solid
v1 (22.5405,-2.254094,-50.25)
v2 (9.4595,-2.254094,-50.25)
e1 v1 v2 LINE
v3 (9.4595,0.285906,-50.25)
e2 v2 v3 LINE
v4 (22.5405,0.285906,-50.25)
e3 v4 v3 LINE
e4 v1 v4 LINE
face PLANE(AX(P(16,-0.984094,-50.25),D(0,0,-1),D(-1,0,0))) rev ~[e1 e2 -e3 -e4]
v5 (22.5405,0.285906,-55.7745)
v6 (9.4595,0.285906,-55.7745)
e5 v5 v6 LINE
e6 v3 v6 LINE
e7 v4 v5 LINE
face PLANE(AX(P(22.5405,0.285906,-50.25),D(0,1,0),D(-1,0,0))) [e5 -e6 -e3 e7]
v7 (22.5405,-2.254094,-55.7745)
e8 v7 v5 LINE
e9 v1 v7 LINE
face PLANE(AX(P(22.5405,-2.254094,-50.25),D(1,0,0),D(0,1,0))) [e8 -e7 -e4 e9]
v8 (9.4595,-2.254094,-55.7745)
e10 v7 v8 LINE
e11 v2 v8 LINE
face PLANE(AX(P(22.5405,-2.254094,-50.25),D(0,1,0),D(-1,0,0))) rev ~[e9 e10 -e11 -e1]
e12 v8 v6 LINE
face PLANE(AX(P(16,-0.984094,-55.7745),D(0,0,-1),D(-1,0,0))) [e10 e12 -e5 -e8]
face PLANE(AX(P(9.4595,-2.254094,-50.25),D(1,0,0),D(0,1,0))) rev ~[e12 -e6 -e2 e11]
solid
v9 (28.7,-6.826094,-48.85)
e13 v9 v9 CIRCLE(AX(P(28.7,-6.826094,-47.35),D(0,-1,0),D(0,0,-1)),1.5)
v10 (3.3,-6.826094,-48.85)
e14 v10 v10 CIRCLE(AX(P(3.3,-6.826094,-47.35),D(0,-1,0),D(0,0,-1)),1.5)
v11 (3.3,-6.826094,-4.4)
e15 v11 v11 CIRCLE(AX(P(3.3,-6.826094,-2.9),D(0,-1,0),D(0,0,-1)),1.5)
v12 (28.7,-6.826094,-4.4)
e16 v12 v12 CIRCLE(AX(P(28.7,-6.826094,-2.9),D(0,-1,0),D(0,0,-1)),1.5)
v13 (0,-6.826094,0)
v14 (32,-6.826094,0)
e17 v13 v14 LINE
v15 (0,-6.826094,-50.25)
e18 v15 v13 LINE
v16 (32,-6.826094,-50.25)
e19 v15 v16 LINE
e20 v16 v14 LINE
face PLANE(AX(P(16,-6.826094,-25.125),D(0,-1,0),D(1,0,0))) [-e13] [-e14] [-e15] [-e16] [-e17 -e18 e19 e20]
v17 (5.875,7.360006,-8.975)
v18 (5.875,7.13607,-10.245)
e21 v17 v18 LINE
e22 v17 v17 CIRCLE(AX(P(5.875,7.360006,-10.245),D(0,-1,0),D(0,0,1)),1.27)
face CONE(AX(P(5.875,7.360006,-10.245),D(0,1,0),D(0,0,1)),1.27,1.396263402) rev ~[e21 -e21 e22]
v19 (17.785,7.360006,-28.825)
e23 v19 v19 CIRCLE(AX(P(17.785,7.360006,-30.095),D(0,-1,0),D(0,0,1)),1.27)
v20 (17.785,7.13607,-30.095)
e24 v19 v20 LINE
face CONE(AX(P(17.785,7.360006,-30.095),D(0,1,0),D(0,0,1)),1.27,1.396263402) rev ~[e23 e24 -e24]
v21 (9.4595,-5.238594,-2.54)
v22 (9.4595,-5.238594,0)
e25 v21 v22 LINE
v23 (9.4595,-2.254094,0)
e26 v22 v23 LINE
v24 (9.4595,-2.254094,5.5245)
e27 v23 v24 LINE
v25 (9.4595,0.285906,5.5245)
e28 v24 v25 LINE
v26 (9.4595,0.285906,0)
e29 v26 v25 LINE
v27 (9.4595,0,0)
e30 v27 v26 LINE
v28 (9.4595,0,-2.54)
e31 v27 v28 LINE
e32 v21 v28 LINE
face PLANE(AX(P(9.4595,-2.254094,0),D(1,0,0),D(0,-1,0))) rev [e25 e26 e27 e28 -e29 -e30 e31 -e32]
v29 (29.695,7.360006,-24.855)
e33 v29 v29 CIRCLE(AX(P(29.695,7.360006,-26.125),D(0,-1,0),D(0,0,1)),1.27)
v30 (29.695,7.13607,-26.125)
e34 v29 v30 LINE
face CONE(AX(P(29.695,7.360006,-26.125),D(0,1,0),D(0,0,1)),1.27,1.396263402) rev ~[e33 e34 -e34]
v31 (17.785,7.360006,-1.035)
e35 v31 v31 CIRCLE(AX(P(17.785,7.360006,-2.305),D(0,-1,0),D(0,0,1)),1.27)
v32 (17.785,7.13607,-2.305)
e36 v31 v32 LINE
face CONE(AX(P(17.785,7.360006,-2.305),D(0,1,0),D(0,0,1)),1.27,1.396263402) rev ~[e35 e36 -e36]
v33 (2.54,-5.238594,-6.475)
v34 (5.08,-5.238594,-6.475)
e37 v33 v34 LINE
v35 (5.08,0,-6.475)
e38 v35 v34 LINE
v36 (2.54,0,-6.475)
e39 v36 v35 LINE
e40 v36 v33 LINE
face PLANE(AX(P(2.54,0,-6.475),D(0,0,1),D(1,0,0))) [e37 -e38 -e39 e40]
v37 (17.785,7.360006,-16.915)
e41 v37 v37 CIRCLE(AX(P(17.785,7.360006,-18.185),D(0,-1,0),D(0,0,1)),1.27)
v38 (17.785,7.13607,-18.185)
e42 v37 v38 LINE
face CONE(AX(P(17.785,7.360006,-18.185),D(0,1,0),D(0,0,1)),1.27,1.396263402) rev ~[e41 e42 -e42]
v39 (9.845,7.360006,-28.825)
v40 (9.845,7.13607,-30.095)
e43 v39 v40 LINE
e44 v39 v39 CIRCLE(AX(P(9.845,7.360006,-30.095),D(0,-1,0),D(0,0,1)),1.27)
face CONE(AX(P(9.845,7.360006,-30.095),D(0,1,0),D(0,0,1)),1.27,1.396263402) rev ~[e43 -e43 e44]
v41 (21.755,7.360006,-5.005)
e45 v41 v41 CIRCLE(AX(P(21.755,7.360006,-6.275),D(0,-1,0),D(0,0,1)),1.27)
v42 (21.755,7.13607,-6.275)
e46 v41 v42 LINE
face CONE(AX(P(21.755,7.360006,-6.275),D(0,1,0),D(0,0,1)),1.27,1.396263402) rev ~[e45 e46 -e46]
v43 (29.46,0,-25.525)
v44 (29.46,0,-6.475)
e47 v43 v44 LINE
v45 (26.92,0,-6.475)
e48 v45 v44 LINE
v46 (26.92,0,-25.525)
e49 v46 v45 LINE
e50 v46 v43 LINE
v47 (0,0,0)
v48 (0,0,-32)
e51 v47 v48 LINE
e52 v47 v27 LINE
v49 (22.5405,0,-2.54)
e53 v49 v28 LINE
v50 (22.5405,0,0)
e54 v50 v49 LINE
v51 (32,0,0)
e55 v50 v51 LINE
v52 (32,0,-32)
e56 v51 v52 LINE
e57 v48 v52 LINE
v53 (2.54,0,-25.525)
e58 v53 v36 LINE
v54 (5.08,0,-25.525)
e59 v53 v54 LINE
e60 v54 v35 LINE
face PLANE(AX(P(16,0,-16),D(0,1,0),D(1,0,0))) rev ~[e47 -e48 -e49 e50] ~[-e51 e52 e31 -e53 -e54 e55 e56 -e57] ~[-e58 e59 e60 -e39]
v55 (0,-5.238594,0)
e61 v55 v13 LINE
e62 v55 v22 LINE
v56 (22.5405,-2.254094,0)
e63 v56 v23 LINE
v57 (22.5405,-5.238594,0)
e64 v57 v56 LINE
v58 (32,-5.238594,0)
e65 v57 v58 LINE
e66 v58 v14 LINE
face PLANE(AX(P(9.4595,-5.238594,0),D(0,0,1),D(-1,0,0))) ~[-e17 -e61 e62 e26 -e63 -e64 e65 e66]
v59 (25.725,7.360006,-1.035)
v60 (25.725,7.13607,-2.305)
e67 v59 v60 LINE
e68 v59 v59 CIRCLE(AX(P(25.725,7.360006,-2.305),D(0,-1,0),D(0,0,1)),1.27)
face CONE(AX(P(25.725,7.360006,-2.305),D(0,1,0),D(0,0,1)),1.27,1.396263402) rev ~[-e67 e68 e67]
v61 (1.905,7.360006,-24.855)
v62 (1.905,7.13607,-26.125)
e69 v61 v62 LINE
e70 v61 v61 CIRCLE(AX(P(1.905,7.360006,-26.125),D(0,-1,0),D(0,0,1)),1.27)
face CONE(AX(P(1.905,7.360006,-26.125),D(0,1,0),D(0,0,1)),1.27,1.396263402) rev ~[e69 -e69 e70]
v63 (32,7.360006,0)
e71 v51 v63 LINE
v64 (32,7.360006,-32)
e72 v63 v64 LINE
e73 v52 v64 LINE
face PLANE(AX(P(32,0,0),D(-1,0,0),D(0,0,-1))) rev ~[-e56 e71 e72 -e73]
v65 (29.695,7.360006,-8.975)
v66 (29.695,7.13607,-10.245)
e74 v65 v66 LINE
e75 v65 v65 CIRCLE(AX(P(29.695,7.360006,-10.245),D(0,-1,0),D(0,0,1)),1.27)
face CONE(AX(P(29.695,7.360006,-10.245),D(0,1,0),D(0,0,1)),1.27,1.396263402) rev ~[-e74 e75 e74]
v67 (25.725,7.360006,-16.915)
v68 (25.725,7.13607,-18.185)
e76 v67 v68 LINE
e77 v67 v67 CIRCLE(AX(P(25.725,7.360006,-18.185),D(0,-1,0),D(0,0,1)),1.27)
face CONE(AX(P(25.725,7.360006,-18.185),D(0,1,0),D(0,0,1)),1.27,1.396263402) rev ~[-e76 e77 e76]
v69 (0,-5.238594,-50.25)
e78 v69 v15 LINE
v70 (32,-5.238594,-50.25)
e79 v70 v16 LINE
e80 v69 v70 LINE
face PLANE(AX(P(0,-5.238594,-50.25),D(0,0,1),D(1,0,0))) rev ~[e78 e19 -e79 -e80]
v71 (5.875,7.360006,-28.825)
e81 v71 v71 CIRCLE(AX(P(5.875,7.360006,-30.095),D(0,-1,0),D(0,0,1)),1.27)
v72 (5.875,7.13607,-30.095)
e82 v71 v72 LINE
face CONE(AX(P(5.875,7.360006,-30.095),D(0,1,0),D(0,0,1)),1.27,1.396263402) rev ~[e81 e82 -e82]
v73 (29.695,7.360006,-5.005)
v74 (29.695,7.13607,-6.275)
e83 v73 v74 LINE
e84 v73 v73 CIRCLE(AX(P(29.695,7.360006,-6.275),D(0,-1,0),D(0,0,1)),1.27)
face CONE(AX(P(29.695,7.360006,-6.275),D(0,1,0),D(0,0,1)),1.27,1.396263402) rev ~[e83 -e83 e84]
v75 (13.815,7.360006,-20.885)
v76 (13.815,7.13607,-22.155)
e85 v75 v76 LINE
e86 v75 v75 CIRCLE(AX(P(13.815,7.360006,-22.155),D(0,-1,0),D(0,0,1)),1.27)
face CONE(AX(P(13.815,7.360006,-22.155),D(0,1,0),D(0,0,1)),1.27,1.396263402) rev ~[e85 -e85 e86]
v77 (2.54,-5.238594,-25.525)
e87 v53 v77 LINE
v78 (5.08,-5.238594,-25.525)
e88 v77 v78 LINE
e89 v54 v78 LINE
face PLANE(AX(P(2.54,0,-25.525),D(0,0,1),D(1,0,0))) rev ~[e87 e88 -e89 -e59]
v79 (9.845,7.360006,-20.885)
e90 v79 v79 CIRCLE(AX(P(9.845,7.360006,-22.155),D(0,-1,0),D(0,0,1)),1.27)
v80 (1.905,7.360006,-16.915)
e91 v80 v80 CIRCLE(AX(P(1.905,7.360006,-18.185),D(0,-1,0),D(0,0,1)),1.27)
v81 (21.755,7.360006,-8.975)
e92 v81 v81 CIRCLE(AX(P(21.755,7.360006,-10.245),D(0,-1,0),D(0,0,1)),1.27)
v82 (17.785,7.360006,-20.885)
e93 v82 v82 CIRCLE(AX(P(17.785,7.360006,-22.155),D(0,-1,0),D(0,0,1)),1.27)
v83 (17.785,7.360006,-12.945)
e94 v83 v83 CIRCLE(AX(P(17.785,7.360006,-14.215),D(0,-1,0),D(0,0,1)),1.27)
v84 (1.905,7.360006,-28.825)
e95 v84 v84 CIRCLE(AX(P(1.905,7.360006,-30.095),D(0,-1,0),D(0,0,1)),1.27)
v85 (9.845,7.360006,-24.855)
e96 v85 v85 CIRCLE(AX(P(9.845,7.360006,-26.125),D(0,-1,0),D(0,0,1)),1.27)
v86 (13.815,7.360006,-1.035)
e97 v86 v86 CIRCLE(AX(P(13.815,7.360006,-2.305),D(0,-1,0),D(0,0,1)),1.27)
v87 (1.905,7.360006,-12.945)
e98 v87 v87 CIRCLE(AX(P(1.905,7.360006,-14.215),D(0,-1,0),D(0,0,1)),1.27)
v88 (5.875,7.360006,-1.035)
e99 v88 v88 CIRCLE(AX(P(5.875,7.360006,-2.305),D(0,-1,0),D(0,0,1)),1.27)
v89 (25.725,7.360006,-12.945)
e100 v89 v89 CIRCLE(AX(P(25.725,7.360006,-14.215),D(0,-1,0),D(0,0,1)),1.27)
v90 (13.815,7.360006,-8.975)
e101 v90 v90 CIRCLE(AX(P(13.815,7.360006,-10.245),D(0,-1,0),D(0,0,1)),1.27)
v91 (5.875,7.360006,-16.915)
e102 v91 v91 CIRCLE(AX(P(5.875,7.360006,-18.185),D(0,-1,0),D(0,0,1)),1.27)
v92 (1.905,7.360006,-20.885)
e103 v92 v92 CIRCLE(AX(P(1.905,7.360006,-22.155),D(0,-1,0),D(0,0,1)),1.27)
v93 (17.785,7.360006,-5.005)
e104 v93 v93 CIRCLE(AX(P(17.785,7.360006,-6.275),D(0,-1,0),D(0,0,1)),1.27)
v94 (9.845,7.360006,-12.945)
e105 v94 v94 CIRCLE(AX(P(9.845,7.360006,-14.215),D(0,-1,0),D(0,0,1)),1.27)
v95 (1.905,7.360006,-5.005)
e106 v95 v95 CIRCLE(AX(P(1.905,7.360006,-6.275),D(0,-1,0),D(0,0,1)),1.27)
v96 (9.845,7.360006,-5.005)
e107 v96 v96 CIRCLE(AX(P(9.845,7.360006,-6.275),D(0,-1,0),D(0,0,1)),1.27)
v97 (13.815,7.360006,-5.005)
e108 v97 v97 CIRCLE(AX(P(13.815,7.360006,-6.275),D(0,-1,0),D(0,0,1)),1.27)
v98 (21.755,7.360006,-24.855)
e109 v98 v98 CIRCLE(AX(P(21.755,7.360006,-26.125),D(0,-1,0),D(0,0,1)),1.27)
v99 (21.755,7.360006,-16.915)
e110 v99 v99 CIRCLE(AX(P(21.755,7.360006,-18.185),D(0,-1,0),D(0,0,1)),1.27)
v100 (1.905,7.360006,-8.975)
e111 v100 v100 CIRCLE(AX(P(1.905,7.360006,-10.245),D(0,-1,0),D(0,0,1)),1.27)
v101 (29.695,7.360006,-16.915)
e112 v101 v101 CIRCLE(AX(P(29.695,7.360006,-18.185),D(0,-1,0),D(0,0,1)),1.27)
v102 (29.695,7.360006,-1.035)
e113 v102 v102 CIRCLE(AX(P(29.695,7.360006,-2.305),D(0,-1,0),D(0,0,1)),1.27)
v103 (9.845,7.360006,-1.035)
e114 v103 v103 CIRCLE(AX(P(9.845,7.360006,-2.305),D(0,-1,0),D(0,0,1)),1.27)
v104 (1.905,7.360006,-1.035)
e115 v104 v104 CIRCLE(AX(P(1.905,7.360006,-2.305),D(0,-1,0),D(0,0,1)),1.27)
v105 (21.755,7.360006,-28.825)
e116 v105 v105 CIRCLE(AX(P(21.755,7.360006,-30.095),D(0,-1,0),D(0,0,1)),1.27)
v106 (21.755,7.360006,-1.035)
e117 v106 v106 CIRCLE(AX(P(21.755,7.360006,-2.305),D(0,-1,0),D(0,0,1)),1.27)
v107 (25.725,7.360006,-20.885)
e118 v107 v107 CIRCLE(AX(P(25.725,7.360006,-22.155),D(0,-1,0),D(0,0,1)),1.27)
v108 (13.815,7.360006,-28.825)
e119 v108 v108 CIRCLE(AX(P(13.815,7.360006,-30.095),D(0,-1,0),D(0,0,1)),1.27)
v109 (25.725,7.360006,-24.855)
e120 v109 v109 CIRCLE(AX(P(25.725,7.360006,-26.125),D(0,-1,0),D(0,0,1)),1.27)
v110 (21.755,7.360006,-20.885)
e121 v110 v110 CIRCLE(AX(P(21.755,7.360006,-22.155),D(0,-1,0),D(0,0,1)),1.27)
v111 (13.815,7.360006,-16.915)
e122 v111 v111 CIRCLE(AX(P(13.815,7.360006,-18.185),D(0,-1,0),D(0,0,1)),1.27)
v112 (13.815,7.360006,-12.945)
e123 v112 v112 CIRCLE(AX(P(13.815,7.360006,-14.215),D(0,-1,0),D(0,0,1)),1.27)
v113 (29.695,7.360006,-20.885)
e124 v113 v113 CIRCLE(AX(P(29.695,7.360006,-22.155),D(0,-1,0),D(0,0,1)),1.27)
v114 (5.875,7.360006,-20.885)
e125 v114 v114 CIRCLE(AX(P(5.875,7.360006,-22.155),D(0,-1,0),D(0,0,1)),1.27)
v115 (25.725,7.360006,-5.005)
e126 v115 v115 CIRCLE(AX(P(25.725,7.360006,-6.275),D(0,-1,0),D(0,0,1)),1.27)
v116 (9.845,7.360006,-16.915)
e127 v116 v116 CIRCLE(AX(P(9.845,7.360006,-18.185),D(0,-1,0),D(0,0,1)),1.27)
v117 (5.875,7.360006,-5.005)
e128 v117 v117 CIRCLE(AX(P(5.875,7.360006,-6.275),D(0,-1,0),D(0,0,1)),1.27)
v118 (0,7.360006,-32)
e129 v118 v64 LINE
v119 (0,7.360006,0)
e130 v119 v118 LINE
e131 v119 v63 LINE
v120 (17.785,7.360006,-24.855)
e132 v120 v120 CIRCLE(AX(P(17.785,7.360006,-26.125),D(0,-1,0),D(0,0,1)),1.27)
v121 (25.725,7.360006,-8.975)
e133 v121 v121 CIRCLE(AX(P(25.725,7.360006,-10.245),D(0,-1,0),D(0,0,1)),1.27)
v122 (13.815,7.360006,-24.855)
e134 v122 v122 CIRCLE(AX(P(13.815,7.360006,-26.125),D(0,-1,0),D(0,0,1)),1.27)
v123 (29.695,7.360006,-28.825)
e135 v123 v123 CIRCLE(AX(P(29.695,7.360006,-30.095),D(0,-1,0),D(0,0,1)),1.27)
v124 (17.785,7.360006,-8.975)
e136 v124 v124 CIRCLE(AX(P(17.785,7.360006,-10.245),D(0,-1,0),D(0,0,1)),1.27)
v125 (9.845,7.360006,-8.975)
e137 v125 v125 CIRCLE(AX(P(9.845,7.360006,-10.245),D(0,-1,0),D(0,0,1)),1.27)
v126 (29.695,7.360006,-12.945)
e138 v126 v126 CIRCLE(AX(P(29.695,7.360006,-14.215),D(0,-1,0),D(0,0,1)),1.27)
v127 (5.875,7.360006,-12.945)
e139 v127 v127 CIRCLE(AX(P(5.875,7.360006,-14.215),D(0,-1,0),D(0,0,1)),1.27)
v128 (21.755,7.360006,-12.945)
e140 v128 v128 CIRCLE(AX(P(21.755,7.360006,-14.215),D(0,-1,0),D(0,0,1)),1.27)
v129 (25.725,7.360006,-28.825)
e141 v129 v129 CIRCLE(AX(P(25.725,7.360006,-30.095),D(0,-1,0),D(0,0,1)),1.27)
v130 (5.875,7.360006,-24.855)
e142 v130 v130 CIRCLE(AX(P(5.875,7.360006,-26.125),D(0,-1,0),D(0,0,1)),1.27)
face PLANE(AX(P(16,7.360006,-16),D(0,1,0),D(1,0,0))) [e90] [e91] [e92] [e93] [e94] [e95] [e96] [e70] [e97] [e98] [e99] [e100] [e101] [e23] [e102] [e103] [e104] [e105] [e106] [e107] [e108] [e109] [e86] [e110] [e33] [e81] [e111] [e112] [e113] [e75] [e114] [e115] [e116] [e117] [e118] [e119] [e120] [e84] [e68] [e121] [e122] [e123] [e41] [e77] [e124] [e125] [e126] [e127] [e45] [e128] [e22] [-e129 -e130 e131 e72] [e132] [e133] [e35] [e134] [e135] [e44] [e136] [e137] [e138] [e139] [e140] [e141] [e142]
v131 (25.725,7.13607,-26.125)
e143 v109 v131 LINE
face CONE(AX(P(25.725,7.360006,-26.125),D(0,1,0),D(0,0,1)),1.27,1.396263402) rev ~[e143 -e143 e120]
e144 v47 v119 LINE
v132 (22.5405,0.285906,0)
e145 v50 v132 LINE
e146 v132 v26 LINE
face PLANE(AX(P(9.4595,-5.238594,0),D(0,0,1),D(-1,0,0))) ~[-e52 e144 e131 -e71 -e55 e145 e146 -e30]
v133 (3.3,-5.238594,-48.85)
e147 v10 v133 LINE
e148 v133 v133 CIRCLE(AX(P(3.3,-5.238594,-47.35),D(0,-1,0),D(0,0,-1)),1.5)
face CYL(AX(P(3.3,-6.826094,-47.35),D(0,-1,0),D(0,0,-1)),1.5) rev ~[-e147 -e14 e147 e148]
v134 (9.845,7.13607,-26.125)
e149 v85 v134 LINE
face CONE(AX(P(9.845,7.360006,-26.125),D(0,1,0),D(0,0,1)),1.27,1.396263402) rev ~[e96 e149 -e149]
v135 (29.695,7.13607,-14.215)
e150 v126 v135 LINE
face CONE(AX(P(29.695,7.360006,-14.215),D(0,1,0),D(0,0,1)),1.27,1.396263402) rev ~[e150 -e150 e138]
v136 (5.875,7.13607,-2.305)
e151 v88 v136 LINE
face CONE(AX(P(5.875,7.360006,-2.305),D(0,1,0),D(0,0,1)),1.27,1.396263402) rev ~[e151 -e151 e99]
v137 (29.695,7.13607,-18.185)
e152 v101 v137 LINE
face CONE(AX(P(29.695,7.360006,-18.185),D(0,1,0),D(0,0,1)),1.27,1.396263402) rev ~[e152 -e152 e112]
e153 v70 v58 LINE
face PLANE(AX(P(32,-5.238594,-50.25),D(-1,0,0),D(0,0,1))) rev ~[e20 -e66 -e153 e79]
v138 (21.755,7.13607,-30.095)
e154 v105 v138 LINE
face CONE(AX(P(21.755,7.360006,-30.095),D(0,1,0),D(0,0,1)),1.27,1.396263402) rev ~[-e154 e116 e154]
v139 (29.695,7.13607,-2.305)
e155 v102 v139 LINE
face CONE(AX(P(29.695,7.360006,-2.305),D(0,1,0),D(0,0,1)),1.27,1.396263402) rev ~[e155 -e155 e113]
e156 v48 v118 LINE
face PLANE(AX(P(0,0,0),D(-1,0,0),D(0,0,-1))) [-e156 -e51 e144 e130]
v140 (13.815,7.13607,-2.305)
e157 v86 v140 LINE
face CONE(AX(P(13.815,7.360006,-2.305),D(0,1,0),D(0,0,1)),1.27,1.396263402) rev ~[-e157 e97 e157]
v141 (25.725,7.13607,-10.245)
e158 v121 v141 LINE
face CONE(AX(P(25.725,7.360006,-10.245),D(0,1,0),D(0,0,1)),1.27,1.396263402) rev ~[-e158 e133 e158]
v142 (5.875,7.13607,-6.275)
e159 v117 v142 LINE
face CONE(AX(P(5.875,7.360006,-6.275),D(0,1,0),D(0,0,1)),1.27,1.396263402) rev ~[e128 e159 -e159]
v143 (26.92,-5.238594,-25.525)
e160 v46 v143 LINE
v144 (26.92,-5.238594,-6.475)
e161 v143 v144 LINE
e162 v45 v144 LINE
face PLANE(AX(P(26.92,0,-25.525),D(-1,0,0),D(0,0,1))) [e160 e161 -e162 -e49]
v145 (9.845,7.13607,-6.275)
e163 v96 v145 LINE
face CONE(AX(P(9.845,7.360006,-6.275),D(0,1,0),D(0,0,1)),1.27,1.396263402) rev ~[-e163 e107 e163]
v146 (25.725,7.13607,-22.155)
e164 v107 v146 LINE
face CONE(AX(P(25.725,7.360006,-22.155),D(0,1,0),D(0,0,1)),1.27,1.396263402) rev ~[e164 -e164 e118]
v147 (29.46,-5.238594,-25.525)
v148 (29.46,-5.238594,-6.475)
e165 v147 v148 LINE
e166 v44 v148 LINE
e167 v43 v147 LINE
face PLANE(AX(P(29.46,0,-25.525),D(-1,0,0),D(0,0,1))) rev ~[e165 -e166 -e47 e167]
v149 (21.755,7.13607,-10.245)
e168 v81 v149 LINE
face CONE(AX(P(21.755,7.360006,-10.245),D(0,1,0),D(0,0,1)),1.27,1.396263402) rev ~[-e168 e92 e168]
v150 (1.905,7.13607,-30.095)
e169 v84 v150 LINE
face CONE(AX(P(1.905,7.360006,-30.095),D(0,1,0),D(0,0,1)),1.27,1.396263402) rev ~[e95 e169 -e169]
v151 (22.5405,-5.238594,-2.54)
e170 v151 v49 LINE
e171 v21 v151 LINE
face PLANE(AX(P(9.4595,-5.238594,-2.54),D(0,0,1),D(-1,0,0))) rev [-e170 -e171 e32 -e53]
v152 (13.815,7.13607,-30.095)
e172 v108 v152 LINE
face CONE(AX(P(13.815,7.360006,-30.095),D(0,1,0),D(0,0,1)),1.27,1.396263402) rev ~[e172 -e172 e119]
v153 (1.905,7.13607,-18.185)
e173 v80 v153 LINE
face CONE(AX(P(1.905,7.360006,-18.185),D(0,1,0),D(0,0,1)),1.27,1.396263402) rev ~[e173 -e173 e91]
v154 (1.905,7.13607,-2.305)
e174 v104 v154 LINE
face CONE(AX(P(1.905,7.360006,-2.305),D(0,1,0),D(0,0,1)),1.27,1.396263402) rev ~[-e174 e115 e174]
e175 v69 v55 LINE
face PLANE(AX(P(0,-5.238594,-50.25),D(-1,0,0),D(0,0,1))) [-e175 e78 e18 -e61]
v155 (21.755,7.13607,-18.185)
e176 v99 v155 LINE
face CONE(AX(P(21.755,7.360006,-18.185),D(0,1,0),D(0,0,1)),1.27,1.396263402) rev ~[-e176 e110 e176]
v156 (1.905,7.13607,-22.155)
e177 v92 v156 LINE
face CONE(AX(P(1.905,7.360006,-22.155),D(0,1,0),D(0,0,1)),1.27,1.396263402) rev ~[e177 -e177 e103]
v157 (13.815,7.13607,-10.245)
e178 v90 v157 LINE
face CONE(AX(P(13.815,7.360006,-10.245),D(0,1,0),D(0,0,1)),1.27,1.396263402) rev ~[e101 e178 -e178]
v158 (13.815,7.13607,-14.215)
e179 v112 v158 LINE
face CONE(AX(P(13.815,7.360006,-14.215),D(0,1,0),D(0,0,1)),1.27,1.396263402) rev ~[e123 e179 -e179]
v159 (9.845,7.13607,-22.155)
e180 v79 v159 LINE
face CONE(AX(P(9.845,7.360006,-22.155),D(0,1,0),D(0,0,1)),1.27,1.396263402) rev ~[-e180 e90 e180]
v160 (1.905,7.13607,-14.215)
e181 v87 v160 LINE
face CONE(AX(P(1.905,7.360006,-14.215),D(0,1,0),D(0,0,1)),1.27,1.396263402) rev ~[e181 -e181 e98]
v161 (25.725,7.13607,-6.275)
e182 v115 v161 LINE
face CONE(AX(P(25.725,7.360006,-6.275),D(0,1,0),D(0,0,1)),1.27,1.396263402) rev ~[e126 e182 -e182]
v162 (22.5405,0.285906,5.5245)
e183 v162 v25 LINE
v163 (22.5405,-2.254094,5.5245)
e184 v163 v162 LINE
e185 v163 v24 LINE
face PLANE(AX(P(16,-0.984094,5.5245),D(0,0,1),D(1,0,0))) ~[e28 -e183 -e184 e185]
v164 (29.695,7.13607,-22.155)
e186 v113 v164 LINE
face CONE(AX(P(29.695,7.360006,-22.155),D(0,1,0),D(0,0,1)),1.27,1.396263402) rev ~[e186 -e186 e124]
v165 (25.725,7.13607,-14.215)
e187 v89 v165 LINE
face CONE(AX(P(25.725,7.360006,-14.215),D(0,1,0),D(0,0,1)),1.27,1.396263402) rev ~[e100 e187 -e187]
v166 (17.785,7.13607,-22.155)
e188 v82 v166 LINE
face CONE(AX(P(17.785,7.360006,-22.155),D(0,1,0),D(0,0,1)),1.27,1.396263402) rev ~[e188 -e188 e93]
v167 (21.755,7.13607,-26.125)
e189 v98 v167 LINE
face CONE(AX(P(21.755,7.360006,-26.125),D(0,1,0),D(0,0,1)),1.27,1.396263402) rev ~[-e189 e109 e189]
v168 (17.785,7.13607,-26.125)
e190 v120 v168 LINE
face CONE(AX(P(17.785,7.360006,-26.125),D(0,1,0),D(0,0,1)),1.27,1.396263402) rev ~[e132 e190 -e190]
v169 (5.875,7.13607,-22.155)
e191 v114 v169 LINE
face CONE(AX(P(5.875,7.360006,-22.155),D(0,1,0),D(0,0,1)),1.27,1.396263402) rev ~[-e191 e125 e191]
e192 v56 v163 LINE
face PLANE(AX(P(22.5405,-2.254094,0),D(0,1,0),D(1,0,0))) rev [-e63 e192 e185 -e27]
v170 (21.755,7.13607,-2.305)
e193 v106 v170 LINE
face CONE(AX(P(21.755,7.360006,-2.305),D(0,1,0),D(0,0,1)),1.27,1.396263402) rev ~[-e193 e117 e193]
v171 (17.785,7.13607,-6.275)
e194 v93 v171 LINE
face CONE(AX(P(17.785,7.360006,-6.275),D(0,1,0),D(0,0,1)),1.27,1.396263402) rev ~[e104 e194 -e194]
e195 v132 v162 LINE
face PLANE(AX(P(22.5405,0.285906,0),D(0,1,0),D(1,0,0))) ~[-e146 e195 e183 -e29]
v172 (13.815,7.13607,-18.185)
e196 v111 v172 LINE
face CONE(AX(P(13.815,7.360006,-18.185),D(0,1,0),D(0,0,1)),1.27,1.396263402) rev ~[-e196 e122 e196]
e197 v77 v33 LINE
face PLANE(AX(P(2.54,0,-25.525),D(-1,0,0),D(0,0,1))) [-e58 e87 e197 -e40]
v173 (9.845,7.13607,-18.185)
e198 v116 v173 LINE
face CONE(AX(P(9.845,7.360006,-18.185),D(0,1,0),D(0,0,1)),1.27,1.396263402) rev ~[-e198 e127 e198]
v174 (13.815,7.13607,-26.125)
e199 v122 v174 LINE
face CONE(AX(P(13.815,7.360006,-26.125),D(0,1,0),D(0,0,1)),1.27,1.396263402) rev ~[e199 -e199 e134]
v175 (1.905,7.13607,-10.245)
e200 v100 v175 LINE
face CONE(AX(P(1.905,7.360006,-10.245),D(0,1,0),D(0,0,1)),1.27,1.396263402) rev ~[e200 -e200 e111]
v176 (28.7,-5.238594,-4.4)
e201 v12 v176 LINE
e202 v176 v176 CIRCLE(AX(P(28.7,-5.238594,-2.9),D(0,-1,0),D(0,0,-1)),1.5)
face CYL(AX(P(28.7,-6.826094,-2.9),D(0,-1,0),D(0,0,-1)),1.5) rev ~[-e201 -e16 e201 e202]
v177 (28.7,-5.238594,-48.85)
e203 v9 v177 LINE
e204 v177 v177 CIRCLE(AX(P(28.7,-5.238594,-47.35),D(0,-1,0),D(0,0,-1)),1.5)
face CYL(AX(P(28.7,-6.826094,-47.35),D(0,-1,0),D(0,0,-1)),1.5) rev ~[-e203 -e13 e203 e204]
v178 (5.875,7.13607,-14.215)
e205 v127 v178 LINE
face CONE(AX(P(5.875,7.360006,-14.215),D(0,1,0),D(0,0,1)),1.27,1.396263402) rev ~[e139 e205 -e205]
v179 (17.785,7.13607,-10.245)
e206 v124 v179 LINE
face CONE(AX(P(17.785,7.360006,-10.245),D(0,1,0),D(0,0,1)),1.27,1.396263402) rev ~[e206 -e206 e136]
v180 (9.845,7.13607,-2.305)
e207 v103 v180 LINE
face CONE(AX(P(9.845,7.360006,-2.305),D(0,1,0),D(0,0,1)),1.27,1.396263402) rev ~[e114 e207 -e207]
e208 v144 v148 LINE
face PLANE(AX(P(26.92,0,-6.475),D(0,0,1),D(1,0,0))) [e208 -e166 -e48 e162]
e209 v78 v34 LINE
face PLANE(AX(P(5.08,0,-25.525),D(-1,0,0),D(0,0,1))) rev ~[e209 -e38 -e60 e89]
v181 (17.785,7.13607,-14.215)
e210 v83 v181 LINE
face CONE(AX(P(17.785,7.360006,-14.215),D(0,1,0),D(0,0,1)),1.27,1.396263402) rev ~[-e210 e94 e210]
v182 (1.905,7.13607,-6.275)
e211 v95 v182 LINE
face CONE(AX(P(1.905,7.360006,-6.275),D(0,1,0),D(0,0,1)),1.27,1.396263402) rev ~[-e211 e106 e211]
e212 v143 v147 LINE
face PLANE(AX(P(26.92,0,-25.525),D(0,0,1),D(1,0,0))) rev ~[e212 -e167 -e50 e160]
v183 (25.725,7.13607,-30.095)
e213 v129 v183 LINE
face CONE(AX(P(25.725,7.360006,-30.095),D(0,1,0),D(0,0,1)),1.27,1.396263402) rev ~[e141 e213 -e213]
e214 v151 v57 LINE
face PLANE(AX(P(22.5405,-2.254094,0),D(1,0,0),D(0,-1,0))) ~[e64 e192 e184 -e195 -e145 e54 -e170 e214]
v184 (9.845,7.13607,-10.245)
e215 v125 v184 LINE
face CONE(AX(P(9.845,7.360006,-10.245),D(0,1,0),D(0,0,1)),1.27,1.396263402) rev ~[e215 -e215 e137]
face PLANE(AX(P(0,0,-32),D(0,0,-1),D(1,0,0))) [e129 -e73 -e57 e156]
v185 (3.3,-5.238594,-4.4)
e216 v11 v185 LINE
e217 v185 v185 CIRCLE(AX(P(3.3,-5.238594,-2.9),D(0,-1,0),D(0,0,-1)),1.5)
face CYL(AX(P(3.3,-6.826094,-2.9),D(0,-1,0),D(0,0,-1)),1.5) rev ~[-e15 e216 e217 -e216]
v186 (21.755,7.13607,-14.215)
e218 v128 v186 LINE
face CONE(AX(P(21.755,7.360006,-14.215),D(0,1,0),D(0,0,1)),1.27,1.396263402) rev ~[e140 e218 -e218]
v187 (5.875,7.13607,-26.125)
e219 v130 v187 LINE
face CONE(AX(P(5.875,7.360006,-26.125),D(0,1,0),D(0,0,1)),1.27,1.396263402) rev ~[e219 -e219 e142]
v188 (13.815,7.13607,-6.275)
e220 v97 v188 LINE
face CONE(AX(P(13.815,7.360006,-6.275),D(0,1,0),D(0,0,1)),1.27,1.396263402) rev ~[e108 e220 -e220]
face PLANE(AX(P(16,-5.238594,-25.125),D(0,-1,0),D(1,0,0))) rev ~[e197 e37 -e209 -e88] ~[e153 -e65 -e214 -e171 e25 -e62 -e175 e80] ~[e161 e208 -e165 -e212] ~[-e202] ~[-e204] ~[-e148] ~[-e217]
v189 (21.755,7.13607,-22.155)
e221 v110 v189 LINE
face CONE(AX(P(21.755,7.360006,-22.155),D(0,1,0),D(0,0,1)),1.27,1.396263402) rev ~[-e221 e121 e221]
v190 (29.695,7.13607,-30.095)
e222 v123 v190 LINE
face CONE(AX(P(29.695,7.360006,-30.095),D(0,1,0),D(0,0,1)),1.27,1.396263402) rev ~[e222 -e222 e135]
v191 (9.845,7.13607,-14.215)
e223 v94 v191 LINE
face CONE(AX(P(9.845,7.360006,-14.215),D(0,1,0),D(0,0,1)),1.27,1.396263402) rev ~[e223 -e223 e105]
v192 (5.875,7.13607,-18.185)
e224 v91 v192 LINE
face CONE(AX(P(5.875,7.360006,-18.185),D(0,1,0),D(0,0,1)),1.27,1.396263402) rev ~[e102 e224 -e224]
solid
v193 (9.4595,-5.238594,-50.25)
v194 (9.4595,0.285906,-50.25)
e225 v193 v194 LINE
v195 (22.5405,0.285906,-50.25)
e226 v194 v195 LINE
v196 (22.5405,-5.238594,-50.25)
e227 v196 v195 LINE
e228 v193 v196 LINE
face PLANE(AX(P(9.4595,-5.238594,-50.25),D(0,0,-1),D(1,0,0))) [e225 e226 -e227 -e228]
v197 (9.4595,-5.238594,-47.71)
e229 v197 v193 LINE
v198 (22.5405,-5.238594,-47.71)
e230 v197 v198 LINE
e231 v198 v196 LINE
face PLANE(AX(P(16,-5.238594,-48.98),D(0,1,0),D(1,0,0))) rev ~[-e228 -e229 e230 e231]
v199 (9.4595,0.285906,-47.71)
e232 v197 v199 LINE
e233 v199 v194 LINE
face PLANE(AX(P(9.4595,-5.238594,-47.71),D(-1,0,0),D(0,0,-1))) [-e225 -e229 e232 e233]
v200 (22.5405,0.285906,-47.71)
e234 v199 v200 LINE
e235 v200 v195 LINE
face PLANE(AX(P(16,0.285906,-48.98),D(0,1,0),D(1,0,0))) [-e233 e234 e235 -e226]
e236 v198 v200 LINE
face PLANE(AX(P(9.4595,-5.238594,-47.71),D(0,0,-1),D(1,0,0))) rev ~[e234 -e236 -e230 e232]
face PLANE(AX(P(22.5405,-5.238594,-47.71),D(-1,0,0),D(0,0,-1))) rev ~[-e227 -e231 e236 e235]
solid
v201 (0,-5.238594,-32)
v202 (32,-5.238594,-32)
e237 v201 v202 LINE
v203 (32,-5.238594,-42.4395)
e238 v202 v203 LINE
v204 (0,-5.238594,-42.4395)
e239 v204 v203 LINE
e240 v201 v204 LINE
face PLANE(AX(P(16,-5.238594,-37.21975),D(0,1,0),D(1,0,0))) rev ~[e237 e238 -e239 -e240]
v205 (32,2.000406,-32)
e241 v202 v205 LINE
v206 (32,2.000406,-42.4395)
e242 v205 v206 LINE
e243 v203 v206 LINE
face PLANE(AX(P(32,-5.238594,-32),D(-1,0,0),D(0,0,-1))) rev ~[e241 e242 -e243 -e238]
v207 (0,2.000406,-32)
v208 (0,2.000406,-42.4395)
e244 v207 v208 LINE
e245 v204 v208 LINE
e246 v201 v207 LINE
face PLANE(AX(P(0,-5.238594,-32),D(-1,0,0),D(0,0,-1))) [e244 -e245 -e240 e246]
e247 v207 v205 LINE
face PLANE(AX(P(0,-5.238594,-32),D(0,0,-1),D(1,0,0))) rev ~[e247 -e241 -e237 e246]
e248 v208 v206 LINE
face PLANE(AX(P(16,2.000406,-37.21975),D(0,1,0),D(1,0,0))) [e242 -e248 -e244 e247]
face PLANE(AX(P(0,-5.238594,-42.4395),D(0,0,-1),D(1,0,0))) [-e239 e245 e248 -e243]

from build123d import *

# Parameters (mm, degrees)
SKETCH1_W            = 32
SKETCH1_H            = 32
BOSS_EXTRUDE1_DEPTH  = 7.3600056
SKETCH2_W            = 2.54
SKETCH2_H            = 19.05
BOSS_EXTRUDE2_DEPTH  = 5.238594298
SKETCH3_W            = 32
SKETCH3_H            = 50.25
BOSS_EXTRUDE3_DEPTH  = 1.5875
SKETCH4_R            = 1.5
CUT_EXTRUDE1_DEPTH   = 1.5875
LPATTERN1_COUNT      = 8
LPATTERN1_PITCH      = 3.97
LPATTERN1_COUNT_DIR2 = 8
LPATTERN1_PITCH_DIR2 = 3.97
SKETCH6_W            = 32
SKETCH6_H            = 10.4395
BOSS_EXTRUDE4_DEPTH  = 7.239
SKETCH7_W            = 13.081
SKETCH7_H            = 2.54
BOSS_EXTRUDE5_DEPTH  = 5.5245
SKETCH8_W            = 13.081
SKETCH8_H            = 2.54
BOSS_EXTRUDE6_DEPTH  = 5.5245


with BuildPart() as part:
    # Sketch1 → Boss-Extrude1 (new body)
    with BuildSketch(Plane(origin=(0, 0, 0), x_dir=(1, 0, 0), z_dir=(0, 1, 0))):
        with Locations((16, 16)):
            Rectangle(SKETCH1_W, SKETCH1_H)
    extrude(amount=BOSS_EXTRUDE1_DEPTH)

    # Sketch2 → Boss-Extrude2 (add)
    with BuildSketch(Plane.XZ):
        with Locations((28.19, -16)):
            Rectangle(SKETCH2_W, SKETCH2_H)
        with Locations((3.81, -16)):
            Rectangle(SKETCH2_W, SKETCH2_H)
    extrude(amount=BOSS_EXTRUDE2_DEPTH)

    # Sketch3 → Boss-Extrude3 (add)
    with BuildSketch(Plane.XZ.offset(5.238594298)):
        with Locations((16, -25.125)):
            Rectangle(SKETCH3_W, SKETCH3_H)
    extrude(amount=BOSS_EXTRUDE3_DEPTH)

    # Sketch4 → Cut-Extrude1 (cut)
    with BuildSketch(Plane.XZ.offset(6.826094298)):
        with Locations(Location((3.3, -47.35, 0), (0, 0, 270))):
            Circle(SKETCH4_R)
        with Locations(Location((28.7, -47.35, 0), (0, 0, 270))):
            Circle(SKETCH4_R)
        with Locations(Location((28.7, -2.9, 0), (0, 0, 270))):
            Circle(SKETCH4_R)
        with Locations(Location((3.3, -2.9, 0), (0, 0, 270))):
            Circle(SKETCH4_R)
    extrude(amount=-CUT_EXTRUDE1_DEPTH, mode=Mode.SUBTRACT)

    # Cut-Extrude2 cone 1 section (through the dimple's axis) → Cut-Extrude2 (revolve, cut)
    with BuildSketch(Plane(origin=(1.905, 7.3600056, -30.095), x_dir=(0, 0, 1), z_dir=(1, 0, 0))):
        Polygon((0, 0), (1.27, 0), (0, 0.223935265), align=None)
    cut_extrude2 = revolve(axis=Axis((1.905, 7.3600056, -30.095), (0, -1, 0)), mode=Mode.SUBTRACT)

    # LPattern1: Cut-Extrude2 8 × 8
    with Locations(*[(i * LPATTERN1_PITCH, 0, j * LPATTERN1_PITCH_DIR2) for i in range(LPATTERN1_COUNT) for j in range(LPATTERN1_COUNT_DIR2) if (i, j) != (0, 0)]):
        add(cut_extrude2, mode=Mode.SUBTRACT)


with BuildPart() as body_2:
    # Sketch6 → Boss-Extrude4 (new body)
    with BuildSketch(Plane(origin=(0, -5.238594298, 0), x_dir=(1, 0, 0), z_dir=(0, 1, 0))):
        with Locations((16, 37.21975)):
            Rectangle(SKETCH6_W, SKETCH6_H)
    extrude(amount=BOSS_EXTRUDE4_DEPTH)


with BuildPart() as body_3:
    # Sketch7 → Boss-Extrude5 (new body)
    with BuildSketch(Plane(origin=(0, -5.238594298, 0), x_dir=(1, 0, 0), z_dir=(0, 1, 0))):
        with Locations((16, 48.98)):
            Rectangle(SKETCH7_W, SKETCH7_H)
    boss_extrude5 = extrude(amount=BOSS_EXTRUDE5_DEPTH)


with BuildPart() as body_4:
    # Sketch8 → Boss-Extrude6 (new body)
    with BuildSketch(Plane(origin=(0, 0, -50.25), x_dir=(-1, 0, 0), z_dir=(0, 0, -1))):
        with Locations((-16, -0.984094298)):
            Rectangle(SKETCH8_W, SKETCH8_H)
    boss_extrude6 = extrude(amount=BOSS_EXTRUDE6_DEPTH)


with BuildPart() as part_1:
    add(part.part)

    # Mirror1: Boss-Extrude5, Boss-Extrude6 across plane
    add(boss_extrude5.mirror(Plane(origin=(0, 0, -25.125), x_dir=(1, 0, 0), z_dir=(0, 0, -1))))
    add(boss_extrude6.mirror(Plane(origin=(0, 0, -25.125), x_dir=(1, 0, 0), z_dir=(0, 0, -1))))


solid = Compound([body_2.part, body_3.part, body_4.part, part_1.part])
